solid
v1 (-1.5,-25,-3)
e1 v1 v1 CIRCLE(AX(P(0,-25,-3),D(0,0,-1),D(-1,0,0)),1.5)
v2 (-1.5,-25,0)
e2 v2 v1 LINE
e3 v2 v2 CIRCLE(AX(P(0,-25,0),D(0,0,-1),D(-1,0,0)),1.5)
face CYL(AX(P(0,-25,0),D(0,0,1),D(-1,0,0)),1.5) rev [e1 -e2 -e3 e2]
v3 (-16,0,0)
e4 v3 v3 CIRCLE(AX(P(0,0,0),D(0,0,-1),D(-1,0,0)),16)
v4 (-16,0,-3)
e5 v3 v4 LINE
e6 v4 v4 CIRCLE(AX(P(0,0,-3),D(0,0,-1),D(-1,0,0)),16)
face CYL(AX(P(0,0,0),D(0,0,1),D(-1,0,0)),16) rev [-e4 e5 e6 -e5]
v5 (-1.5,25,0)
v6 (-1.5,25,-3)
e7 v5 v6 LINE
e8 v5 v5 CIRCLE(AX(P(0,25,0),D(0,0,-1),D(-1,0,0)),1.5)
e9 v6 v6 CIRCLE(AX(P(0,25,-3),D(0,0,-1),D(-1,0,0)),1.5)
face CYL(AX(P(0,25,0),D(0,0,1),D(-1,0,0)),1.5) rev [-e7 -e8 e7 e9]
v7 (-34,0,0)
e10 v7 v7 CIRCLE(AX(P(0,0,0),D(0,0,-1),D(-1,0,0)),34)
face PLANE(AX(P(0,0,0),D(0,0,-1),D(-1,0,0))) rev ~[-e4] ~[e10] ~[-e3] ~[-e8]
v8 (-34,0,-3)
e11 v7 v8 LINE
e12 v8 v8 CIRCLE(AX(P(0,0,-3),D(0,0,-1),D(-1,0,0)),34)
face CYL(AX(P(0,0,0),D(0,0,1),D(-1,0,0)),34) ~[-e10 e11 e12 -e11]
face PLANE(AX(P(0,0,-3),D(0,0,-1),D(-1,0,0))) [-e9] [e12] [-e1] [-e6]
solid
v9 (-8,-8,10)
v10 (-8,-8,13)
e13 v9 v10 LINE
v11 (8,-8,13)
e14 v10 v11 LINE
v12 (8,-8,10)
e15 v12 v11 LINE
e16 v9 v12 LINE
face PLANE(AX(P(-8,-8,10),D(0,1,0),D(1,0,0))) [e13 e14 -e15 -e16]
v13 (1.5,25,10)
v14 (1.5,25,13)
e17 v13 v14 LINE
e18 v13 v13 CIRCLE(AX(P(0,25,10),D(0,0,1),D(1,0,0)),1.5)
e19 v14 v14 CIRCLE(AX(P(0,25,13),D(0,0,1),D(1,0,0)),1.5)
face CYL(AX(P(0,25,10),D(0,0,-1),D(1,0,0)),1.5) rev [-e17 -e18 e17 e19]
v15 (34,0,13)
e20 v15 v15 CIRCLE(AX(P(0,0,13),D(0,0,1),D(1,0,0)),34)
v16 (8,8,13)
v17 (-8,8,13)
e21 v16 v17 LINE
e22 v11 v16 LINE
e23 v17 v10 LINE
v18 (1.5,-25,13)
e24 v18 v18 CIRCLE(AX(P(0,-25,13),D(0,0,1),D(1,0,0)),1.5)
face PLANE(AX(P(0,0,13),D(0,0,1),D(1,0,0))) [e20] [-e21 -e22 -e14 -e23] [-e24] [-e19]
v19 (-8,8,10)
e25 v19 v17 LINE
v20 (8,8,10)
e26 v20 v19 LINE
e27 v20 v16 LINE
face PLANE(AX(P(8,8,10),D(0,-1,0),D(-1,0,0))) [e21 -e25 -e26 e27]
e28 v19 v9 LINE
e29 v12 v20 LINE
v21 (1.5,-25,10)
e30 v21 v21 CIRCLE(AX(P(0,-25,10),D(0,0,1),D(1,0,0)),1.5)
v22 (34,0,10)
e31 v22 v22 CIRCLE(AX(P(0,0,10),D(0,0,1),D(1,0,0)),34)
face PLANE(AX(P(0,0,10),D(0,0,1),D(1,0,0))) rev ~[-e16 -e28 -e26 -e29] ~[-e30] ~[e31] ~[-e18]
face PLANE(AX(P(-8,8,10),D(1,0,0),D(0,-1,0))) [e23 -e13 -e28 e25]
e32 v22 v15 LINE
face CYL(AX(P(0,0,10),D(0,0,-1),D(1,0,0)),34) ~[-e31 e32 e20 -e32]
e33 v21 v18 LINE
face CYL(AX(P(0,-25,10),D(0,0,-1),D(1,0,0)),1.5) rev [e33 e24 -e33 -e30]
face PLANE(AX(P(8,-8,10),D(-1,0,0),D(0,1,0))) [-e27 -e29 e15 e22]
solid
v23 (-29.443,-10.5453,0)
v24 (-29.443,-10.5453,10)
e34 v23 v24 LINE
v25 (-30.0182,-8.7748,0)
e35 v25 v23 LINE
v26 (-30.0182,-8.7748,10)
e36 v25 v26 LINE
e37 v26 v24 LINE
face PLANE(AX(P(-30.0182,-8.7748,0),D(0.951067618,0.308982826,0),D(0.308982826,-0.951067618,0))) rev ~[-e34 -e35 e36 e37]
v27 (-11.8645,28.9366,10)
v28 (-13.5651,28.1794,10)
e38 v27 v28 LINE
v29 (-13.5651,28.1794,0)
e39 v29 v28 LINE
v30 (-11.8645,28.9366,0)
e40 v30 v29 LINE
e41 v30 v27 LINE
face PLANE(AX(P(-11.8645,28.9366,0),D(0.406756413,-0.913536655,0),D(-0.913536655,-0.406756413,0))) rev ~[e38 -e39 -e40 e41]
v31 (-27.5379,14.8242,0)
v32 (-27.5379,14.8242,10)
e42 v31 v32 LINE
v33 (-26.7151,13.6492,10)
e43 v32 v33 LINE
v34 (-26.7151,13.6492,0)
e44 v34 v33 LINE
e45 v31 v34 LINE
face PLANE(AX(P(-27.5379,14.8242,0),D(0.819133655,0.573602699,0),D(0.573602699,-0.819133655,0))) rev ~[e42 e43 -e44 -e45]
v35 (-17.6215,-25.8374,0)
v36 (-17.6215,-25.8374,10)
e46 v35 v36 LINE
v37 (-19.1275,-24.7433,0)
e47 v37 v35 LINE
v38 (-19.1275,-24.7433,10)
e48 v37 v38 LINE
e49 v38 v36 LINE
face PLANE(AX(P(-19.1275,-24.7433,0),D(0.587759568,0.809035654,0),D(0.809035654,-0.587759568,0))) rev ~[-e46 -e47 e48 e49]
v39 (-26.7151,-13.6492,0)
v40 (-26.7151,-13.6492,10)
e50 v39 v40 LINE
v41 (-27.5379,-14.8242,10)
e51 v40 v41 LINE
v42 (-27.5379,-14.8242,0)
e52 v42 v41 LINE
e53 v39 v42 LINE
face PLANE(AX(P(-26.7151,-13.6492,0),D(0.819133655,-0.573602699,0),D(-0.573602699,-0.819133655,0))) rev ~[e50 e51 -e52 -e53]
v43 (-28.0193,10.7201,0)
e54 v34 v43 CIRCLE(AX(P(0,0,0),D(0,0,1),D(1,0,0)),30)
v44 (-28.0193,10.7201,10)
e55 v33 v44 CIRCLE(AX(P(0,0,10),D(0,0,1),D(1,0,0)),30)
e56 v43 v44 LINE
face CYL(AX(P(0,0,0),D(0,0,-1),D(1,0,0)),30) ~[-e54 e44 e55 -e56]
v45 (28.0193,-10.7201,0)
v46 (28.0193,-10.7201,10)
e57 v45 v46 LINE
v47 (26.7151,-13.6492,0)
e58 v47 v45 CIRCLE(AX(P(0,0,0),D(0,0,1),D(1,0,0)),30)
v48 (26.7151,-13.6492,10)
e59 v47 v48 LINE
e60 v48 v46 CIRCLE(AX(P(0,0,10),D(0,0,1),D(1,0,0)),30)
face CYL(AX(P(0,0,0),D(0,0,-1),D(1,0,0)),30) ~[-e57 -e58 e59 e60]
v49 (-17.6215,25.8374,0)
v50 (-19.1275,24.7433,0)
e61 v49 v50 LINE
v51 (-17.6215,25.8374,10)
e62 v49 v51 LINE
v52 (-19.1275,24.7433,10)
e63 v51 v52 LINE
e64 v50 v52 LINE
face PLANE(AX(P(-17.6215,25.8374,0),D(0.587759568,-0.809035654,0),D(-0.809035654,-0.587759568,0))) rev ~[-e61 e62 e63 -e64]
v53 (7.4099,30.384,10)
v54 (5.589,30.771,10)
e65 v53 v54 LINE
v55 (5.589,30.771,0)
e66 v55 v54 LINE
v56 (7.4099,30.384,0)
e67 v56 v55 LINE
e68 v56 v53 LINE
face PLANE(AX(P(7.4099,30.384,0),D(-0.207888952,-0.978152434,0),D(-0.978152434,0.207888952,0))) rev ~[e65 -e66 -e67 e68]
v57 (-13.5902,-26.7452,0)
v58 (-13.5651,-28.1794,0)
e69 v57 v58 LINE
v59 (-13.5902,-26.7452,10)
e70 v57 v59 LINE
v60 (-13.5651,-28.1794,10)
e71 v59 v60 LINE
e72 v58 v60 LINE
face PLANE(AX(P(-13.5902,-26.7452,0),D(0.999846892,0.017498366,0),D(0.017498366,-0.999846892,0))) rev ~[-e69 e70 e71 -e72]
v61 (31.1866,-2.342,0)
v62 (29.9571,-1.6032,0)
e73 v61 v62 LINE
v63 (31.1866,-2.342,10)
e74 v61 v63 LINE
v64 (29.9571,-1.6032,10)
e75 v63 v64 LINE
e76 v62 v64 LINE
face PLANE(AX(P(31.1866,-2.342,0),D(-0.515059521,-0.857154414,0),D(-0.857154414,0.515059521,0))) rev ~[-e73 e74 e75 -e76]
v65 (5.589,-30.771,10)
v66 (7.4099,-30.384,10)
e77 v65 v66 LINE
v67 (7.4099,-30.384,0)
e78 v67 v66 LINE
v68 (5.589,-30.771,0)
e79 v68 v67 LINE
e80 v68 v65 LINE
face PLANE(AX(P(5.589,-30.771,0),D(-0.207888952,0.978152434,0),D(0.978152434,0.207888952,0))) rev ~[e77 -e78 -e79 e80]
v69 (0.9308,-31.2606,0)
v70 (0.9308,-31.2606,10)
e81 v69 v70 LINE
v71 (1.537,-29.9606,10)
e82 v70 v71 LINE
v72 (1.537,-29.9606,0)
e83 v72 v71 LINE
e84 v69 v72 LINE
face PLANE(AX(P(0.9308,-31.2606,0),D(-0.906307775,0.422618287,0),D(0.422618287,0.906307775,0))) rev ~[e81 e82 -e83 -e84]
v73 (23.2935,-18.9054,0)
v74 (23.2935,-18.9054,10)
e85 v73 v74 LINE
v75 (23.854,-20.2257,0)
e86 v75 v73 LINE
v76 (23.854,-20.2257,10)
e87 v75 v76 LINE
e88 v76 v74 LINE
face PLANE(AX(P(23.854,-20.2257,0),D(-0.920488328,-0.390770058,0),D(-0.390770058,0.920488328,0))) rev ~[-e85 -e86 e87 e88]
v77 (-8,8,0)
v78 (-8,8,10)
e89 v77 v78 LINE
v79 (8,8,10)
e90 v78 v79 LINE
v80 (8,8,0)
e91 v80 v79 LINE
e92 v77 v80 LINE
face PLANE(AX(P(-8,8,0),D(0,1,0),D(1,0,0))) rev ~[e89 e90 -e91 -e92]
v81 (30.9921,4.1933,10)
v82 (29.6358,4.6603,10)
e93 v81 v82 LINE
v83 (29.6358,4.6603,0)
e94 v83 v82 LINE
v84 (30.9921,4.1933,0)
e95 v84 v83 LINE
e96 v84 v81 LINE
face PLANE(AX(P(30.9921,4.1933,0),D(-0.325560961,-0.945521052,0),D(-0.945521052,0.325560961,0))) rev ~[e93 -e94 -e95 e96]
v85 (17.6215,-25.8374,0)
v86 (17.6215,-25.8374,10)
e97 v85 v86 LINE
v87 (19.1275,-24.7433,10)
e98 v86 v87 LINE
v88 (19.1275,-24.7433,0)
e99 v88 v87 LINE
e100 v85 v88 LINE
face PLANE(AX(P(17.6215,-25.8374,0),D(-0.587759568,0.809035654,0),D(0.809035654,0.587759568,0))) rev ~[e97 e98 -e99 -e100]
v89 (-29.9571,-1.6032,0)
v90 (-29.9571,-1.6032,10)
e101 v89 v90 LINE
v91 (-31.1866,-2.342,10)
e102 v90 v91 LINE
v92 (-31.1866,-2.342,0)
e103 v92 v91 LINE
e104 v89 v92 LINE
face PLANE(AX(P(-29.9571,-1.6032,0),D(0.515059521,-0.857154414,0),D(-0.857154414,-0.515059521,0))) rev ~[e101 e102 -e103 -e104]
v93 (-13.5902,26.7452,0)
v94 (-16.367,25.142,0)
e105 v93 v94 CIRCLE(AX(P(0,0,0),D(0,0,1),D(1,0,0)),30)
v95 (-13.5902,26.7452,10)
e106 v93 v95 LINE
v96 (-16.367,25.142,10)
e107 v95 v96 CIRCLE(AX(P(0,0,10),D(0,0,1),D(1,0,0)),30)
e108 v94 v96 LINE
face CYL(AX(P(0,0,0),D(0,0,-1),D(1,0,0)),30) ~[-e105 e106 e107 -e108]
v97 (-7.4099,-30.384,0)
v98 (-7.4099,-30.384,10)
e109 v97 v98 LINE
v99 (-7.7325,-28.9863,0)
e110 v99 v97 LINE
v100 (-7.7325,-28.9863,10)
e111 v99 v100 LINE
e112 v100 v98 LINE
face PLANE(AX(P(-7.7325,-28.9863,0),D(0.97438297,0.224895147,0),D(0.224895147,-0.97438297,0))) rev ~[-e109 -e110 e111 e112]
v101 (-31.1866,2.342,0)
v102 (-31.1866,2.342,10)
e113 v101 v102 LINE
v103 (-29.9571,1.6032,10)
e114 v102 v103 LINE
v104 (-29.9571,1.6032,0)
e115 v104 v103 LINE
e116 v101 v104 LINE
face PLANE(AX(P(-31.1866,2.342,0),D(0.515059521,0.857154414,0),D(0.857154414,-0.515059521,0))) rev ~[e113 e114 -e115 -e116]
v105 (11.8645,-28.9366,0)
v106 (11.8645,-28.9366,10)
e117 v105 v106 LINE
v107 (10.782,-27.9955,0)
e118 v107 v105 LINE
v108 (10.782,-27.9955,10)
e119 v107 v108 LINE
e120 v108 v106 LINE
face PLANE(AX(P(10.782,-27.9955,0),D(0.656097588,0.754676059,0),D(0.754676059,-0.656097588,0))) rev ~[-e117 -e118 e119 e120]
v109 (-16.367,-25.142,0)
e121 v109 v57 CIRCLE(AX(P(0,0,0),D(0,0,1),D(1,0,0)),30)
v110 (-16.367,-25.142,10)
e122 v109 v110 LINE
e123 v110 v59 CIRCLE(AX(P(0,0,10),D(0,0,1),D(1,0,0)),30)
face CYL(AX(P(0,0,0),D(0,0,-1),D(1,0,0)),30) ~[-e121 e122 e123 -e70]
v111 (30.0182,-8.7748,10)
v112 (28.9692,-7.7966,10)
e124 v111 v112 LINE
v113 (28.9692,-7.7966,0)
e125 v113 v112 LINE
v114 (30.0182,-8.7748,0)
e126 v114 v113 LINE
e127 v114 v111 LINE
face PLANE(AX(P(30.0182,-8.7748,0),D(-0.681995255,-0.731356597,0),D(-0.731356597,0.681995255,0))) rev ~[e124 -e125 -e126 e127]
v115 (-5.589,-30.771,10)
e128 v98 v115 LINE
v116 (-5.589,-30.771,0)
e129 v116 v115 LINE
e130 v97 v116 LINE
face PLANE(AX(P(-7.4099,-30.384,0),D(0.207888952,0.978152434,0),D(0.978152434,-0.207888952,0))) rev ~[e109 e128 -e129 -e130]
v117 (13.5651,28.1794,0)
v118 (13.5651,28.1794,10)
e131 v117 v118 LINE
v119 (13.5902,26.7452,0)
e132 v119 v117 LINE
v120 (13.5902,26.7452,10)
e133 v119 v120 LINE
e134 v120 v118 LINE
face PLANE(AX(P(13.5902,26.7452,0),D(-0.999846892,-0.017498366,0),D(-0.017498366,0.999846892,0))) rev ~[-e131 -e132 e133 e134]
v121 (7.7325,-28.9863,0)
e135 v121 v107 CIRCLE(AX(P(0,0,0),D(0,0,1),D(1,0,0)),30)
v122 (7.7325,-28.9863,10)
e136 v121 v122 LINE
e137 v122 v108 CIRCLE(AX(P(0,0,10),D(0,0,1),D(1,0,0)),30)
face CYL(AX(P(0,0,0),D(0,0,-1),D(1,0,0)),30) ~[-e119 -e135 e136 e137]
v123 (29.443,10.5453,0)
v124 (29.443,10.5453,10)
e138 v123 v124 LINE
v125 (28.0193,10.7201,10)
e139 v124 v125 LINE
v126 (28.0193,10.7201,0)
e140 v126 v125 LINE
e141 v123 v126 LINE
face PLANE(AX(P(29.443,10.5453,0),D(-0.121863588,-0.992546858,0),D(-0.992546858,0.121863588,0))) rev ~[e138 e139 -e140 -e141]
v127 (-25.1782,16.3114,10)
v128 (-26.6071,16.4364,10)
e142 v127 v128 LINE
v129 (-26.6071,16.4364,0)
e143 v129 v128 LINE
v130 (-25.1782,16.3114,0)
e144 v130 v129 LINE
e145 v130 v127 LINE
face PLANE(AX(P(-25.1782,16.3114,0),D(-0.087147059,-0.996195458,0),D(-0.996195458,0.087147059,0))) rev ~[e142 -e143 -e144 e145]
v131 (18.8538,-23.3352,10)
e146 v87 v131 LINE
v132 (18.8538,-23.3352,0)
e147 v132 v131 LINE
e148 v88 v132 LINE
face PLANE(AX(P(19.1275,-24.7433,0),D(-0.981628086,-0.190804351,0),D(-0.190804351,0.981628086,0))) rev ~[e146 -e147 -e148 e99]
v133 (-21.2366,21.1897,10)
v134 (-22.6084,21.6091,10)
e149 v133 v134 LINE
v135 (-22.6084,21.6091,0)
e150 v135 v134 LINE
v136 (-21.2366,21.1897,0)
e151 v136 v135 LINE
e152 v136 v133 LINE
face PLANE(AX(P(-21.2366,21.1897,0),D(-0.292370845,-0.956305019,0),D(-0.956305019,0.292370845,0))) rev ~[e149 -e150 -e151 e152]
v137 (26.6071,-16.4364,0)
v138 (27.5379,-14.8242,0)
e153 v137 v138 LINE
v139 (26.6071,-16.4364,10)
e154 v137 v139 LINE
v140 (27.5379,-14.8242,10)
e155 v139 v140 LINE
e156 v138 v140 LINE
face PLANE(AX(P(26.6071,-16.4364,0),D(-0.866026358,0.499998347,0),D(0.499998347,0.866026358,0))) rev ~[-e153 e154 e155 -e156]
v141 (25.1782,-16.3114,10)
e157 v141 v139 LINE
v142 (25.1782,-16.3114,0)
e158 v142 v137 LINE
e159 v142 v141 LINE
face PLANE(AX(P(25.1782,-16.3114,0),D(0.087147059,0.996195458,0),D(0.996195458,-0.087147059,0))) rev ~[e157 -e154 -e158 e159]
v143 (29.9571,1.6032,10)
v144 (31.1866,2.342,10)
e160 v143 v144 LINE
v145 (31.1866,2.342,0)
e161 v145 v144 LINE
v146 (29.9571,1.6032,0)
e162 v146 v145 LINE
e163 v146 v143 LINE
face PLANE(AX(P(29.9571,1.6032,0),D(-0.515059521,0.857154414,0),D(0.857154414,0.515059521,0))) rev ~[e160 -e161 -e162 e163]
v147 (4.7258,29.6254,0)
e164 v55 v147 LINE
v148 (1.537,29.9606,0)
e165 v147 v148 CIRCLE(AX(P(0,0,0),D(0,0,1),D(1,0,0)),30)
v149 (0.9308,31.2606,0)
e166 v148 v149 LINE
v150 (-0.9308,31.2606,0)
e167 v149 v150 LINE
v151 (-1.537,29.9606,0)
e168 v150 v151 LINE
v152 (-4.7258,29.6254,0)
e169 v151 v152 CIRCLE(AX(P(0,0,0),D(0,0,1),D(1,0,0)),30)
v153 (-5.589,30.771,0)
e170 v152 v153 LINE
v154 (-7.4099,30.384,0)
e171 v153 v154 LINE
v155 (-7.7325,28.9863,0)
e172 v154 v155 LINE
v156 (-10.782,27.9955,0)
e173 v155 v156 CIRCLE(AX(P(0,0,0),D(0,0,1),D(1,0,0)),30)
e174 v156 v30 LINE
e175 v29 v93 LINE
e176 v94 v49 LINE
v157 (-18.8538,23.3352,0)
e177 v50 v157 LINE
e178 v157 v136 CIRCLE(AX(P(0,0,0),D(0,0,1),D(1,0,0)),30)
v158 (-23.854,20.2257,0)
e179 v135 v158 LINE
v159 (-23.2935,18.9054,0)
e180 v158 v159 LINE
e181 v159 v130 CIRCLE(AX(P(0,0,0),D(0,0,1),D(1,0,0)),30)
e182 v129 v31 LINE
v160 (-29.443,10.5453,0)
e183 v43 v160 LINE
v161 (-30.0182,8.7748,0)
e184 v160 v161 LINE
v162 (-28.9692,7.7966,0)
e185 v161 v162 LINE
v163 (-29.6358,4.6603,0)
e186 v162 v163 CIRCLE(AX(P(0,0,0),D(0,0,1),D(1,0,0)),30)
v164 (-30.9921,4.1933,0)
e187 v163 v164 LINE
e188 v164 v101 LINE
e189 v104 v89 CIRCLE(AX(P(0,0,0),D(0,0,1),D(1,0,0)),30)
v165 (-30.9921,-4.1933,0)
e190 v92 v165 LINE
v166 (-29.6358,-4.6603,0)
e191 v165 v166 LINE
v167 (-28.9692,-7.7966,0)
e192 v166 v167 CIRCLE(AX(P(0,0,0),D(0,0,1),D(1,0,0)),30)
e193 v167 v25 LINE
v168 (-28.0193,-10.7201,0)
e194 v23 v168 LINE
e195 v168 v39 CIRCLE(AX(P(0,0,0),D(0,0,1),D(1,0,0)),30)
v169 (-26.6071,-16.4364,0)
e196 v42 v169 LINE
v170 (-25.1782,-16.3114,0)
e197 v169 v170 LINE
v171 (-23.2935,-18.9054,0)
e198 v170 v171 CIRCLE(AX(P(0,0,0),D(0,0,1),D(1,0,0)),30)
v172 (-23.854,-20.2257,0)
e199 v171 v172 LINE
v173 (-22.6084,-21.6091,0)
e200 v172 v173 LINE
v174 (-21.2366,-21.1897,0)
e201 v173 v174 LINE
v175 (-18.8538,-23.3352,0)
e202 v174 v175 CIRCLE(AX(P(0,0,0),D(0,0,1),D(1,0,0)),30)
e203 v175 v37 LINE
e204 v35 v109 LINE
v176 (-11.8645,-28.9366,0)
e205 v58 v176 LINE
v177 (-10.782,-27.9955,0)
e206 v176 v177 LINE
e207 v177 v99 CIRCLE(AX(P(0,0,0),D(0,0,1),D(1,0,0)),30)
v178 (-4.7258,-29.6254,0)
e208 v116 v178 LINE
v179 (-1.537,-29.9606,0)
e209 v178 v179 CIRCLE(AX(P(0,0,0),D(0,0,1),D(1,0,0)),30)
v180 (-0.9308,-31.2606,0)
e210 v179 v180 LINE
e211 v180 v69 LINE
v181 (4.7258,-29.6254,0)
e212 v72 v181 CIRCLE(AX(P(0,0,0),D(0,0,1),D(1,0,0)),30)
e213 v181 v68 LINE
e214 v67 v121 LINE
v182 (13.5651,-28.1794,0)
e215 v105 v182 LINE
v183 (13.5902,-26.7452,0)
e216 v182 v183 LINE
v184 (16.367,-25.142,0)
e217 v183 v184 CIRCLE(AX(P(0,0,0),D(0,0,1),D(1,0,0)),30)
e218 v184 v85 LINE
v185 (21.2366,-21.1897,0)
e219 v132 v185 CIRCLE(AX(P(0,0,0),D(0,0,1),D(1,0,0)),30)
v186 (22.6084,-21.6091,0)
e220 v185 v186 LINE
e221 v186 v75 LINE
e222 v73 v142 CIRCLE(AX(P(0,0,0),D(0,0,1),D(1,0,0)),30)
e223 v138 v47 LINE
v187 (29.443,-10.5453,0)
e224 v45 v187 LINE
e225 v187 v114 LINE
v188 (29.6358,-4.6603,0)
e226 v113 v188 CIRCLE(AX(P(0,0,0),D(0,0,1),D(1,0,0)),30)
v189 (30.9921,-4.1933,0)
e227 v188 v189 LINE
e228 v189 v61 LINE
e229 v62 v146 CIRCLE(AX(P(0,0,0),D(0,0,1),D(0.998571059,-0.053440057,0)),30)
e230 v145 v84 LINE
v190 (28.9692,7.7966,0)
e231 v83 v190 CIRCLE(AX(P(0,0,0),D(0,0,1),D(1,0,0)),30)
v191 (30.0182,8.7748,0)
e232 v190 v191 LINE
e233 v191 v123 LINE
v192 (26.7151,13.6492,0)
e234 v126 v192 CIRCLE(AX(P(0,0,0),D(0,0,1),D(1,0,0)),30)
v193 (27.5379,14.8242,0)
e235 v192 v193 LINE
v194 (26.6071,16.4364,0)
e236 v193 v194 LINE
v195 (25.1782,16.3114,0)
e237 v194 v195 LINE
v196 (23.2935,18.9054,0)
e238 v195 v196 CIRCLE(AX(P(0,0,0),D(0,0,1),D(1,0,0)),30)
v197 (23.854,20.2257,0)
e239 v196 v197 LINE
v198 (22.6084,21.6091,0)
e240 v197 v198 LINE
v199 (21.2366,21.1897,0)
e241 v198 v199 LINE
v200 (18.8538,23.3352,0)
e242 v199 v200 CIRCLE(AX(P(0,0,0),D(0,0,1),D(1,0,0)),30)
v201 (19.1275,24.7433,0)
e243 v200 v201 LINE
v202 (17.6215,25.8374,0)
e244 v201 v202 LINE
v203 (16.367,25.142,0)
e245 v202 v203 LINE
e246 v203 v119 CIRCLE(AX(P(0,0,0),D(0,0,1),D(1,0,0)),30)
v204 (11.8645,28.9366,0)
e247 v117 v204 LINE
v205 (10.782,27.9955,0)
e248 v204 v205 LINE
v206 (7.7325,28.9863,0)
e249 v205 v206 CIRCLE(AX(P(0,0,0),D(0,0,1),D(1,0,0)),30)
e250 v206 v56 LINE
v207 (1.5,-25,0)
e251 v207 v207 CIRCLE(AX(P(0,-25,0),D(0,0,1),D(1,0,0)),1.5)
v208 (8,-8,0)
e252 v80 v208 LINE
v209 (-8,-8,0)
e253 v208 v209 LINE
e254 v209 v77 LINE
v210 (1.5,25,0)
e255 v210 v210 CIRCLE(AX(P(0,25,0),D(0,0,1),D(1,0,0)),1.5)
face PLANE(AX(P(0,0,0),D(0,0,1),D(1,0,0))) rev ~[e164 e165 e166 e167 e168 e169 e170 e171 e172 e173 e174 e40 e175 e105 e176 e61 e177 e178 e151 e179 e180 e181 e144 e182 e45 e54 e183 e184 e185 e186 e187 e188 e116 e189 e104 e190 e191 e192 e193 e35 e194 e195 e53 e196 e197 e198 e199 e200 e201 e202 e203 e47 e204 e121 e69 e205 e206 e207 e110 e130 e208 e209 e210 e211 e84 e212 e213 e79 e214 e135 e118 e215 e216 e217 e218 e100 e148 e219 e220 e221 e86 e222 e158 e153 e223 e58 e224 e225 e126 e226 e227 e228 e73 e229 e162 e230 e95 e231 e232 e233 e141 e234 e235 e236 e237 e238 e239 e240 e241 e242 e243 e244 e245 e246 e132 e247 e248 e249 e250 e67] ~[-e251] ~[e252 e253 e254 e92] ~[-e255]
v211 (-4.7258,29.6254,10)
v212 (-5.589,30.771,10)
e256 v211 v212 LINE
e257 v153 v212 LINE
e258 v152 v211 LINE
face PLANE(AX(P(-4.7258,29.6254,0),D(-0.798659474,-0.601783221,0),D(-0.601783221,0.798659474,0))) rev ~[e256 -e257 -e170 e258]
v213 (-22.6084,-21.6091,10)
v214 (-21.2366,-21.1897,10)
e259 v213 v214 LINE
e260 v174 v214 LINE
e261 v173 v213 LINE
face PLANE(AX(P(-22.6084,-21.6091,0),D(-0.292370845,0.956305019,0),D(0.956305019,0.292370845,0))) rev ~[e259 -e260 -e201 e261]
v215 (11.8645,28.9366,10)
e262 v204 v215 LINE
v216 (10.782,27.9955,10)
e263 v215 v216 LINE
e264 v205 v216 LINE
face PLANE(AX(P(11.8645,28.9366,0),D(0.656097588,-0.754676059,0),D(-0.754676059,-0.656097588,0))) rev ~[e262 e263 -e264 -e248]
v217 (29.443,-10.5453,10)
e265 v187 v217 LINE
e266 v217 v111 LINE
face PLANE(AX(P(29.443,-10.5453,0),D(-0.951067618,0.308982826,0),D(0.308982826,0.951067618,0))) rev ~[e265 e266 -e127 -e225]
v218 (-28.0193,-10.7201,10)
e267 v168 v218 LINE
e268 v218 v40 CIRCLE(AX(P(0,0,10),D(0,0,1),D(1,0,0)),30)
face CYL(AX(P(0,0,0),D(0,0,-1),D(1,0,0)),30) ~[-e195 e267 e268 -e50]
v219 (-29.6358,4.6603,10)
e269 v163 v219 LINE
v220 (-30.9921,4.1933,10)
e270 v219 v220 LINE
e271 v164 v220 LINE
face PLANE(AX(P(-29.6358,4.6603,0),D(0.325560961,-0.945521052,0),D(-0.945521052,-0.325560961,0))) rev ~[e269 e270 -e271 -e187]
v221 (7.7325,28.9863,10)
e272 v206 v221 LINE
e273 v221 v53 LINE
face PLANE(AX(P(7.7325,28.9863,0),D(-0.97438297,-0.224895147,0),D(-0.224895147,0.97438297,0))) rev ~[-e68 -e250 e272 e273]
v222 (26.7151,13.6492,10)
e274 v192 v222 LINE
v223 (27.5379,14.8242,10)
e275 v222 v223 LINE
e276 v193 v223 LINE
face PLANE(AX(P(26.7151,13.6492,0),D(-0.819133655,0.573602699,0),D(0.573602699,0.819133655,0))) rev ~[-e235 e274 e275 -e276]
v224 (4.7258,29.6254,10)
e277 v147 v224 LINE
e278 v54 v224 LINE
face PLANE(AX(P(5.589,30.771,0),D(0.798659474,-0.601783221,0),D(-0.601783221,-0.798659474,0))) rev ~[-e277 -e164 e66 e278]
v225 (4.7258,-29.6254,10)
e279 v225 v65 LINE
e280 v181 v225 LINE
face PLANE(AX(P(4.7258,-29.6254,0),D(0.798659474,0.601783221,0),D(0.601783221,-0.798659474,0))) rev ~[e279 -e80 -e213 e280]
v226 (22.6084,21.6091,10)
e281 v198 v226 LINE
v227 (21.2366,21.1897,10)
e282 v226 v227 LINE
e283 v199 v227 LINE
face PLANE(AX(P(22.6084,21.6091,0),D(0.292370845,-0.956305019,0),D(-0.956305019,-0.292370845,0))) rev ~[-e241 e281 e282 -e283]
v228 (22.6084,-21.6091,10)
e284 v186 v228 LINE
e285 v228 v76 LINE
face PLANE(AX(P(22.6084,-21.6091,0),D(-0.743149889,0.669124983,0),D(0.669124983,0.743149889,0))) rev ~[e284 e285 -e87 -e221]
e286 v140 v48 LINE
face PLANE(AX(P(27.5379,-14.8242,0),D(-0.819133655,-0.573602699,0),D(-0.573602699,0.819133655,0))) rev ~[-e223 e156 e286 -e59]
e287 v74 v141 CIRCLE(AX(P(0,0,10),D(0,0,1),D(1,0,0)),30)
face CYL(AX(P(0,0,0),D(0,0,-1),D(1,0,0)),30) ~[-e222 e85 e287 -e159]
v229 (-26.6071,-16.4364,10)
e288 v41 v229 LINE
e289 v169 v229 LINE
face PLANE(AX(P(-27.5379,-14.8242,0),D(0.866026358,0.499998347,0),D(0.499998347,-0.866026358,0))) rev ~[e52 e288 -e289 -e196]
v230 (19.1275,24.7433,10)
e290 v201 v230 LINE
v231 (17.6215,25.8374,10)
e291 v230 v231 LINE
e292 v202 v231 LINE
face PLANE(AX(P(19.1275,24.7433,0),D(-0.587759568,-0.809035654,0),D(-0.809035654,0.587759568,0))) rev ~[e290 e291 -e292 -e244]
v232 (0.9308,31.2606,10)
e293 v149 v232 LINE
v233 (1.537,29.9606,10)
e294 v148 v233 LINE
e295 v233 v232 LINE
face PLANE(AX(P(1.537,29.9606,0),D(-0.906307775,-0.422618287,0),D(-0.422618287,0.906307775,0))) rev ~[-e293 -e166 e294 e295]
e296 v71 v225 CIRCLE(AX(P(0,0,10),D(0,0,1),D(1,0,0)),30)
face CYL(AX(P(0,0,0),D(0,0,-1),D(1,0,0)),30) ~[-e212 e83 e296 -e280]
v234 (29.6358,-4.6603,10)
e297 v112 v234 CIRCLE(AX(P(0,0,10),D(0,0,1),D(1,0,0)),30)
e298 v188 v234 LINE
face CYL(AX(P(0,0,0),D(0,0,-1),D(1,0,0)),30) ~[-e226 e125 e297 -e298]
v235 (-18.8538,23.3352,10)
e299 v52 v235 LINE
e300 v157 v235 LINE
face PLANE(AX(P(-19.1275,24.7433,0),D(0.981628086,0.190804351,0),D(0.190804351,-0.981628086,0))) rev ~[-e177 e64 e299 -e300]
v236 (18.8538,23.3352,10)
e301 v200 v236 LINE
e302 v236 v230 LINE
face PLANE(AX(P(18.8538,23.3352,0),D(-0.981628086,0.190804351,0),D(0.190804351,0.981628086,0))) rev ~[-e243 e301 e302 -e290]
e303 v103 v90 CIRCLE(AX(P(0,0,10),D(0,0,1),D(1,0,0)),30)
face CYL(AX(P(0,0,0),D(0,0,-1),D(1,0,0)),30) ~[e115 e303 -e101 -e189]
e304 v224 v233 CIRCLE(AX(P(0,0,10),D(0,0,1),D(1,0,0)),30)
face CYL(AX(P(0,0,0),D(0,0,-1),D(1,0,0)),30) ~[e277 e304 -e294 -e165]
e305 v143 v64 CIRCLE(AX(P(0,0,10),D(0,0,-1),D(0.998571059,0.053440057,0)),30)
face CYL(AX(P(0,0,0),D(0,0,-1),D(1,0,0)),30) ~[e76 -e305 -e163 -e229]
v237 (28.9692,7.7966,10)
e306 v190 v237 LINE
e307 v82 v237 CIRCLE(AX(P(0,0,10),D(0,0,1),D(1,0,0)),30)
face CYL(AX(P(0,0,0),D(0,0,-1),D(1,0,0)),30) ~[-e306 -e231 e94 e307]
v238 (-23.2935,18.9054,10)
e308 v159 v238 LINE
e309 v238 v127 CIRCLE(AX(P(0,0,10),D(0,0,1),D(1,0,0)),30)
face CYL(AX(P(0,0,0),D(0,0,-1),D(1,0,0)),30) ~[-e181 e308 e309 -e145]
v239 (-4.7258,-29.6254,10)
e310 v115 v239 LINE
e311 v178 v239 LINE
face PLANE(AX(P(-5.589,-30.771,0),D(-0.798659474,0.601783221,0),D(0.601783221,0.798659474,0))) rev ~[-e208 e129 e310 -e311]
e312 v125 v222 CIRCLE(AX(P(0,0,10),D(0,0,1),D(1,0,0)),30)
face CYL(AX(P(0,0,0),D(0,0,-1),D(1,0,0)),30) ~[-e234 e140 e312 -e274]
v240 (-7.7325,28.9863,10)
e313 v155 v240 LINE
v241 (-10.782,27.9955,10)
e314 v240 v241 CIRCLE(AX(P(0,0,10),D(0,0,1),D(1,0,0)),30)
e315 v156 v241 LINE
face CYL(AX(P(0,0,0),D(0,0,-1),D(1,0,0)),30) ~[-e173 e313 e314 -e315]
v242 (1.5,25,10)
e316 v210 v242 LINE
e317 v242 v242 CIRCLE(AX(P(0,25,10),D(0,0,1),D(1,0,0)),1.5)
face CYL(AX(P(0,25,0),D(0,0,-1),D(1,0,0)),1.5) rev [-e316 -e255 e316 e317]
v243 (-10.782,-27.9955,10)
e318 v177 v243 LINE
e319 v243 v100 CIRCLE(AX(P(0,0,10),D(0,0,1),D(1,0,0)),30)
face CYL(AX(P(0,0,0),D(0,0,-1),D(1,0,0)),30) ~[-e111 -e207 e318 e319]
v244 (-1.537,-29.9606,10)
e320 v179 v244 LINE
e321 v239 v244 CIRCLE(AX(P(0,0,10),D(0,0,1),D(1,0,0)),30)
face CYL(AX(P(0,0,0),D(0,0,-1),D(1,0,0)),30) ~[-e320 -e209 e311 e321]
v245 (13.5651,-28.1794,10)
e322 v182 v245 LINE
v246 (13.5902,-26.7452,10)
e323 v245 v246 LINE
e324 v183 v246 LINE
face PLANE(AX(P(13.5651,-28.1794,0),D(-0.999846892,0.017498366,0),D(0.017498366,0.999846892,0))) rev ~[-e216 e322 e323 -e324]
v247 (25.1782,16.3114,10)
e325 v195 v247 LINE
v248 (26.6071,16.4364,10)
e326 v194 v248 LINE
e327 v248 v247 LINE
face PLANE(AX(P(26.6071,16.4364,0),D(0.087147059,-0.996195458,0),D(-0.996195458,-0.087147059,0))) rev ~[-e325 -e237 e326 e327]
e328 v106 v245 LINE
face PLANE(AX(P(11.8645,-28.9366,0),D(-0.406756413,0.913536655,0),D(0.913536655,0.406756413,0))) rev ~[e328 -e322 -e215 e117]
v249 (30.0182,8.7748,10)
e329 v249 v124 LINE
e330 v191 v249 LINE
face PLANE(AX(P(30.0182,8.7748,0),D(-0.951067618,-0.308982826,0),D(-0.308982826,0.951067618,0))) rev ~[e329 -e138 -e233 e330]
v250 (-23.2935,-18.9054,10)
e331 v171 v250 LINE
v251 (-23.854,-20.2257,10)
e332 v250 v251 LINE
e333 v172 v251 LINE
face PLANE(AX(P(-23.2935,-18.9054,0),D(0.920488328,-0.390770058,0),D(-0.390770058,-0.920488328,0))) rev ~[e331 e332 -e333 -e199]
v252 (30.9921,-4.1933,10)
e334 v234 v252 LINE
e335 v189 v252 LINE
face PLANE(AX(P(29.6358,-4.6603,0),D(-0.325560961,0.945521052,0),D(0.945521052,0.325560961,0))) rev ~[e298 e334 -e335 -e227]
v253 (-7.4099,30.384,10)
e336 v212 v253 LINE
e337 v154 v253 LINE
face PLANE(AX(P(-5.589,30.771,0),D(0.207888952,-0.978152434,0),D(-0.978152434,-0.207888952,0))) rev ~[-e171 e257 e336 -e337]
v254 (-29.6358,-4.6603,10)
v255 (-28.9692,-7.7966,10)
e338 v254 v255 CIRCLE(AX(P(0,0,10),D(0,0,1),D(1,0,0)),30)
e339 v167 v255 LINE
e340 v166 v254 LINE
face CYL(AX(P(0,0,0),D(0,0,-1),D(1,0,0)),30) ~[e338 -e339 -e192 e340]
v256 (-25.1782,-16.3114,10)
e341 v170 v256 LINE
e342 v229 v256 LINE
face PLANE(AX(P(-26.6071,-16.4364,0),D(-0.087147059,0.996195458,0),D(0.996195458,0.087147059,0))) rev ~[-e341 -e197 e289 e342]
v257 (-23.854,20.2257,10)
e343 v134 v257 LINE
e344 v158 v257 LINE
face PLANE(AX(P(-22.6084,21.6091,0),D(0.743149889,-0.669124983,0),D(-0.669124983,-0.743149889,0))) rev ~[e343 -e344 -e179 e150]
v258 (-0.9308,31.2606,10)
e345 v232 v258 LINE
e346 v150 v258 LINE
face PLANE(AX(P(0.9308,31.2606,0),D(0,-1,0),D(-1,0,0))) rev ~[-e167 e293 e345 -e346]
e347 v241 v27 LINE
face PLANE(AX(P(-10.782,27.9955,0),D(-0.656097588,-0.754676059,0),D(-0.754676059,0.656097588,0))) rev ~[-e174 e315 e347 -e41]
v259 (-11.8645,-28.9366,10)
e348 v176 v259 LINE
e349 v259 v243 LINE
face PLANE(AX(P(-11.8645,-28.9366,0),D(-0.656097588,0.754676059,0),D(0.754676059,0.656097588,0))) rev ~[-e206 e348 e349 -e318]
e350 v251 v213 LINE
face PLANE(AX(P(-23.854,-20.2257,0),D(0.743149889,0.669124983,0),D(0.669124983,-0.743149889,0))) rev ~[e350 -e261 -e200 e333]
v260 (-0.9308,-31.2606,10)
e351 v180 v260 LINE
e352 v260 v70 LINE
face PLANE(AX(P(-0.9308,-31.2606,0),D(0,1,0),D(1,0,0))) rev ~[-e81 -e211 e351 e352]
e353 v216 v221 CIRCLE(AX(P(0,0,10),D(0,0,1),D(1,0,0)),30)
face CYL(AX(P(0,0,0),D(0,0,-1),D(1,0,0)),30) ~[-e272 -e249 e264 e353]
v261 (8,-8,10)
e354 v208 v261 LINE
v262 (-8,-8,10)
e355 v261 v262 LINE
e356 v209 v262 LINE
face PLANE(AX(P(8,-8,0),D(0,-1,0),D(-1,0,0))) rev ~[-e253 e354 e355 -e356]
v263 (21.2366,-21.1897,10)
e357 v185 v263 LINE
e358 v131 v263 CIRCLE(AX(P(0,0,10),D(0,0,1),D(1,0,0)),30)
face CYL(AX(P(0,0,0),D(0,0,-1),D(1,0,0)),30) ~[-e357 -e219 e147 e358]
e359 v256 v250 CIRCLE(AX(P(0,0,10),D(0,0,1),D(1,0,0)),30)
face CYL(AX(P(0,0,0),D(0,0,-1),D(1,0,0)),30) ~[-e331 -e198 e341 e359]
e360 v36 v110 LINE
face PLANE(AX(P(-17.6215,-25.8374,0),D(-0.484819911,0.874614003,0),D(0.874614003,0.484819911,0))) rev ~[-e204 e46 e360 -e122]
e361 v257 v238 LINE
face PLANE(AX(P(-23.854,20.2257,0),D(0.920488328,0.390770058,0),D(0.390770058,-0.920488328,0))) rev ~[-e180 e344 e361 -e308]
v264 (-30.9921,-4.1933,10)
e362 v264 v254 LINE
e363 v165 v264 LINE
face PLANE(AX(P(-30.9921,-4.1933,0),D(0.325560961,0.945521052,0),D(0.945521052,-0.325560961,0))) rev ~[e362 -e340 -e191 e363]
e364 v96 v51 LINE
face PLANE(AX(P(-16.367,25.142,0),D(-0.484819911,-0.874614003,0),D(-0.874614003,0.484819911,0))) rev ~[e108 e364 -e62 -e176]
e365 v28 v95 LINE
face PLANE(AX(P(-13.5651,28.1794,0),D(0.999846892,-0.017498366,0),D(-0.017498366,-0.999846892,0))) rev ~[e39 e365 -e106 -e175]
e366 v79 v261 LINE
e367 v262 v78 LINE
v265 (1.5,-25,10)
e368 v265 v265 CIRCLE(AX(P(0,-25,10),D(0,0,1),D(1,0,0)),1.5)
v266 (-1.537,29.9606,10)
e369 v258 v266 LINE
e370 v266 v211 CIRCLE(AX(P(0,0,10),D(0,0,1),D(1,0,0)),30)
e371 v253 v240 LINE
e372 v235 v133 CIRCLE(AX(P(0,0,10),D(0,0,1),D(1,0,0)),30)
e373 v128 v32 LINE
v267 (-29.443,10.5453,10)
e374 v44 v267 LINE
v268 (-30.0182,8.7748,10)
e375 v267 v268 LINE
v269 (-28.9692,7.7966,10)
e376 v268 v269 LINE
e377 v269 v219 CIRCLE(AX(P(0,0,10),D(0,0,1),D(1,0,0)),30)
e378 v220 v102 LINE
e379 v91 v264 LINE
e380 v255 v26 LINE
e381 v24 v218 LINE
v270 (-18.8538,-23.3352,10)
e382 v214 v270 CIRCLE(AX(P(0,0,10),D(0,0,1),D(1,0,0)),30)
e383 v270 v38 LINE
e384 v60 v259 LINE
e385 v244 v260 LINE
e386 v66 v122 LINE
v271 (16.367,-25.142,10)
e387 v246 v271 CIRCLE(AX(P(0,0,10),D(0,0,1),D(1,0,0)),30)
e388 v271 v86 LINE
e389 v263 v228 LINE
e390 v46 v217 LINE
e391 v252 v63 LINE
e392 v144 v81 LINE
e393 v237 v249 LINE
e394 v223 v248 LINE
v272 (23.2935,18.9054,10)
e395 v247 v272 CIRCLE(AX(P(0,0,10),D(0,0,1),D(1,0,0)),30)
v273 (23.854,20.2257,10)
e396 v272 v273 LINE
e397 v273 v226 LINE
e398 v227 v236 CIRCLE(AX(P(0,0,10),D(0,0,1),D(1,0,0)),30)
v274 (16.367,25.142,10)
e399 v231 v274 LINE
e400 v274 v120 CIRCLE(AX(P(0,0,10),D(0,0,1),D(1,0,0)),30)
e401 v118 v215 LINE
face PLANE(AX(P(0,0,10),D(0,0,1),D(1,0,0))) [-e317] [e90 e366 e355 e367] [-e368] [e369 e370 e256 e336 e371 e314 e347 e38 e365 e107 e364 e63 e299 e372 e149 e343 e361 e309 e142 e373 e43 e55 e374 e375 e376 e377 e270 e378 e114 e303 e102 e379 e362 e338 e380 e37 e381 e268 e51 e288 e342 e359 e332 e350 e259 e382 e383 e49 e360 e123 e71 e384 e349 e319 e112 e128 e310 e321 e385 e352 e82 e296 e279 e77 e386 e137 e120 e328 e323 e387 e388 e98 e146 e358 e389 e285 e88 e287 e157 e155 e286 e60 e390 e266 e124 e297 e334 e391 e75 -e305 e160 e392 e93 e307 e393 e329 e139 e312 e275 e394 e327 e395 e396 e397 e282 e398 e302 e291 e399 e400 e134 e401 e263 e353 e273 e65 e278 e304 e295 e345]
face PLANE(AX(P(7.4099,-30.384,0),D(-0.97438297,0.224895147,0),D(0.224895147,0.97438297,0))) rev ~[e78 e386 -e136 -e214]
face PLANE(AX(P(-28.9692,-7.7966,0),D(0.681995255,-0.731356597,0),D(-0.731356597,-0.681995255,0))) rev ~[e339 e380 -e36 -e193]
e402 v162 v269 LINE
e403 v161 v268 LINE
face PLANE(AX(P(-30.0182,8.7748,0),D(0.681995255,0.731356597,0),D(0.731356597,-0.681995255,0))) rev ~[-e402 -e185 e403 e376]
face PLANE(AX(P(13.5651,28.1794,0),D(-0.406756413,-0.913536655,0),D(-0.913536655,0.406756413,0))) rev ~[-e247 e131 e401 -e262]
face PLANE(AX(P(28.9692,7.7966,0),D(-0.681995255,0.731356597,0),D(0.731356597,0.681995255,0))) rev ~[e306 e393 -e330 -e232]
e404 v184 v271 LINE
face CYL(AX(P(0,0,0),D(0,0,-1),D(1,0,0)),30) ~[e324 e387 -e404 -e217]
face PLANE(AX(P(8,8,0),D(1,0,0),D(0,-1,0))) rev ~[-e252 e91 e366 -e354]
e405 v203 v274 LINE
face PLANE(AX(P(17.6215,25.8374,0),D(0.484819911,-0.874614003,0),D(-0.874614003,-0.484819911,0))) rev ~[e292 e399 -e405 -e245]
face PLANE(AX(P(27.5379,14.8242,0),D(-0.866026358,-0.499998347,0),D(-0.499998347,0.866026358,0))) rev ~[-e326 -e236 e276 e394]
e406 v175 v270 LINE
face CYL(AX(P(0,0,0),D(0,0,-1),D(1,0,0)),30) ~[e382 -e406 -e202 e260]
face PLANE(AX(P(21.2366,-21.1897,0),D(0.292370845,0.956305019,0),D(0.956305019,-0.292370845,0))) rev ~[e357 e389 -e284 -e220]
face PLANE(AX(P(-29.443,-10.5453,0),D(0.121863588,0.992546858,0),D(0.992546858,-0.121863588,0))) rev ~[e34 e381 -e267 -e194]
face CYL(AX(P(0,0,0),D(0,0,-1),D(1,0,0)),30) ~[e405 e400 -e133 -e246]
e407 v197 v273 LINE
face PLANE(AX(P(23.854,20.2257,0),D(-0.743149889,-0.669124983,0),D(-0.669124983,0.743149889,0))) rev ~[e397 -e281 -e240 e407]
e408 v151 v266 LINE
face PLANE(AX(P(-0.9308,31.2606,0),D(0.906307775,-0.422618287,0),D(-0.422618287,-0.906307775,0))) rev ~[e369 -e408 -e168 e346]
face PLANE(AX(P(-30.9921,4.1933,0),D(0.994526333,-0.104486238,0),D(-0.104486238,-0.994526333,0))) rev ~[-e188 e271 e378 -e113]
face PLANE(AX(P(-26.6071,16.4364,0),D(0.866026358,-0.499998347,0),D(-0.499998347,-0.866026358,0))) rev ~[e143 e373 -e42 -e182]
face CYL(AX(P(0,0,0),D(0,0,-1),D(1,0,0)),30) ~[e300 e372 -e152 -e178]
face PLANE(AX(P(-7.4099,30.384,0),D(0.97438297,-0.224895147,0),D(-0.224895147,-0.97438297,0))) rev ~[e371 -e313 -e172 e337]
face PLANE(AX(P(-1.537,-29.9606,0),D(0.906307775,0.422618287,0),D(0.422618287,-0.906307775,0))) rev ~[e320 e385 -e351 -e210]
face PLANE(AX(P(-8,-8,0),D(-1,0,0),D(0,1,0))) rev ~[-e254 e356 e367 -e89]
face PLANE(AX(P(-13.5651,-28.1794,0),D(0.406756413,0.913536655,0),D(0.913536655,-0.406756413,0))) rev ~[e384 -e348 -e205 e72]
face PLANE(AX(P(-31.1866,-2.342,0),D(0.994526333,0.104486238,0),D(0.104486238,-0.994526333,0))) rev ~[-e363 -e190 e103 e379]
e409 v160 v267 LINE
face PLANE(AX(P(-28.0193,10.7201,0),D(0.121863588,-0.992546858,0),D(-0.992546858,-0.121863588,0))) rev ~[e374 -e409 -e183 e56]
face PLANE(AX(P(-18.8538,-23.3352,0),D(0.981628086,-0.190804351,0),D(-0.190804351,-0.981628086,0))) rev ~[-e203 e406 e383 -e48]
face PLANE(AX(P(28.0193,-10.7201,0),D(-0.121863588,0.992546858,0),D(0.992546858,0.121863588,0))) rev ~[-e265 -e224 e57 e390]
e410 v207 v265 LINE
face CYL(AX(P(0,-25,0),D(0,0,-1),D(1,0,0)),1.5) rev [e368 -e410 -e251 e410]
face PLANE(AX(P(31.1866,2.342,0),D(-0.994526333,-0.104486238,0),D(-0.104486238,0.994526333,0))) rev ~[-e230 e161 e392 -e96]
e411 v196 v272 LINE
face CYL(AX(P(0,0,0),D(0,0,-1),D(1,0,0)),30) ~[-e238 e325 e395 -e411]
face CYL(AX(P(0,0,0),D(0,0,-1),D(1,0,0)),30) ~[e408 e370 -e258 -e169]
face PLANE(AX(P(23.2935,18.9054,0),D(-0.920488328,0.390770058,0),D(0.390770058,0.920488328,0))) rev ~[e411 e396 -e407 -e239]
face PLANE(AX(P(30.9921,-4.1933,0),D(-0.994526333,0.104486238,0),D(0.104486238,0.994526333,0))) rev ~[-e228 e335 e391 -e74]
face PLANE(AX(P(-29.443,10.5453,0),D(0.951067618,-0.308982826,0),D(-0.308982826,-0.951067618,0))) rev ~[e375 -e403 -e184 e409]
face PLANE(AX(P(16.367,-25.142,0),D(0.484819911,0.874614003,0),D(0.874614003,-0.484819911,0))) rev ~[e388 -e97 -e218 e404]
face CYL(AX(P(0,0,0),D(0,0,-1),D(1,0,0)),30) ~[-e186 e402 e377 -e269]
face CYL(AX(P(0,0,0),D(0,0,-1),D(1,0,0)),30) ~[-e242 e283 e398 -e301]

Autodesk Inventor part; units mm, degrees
ref_plane "YZ Plane" through (0, 0, 0) normal (1, 0, 0) x (0, 1, 0)
ref_plane "XZ Plane" through (0, 0, 0) normal (0, 1, 0) x (-1, 0, 0)
ref_plane "XY Plane" through (0, 0, 0) normal (0, 0, 1) x (1, 0, 0)
sketch "Boceto1" plane through (0, 0, 0) normal (0, 0, 1) x (1, 0, 0)
  line L0 (8, -8) -> (-8, -8) projected
  line L1 (-8, -8) -> (-8, 8) projected
  line L2 (-8, 8) -> (8, 8) projected
  line L3 (8, 8) -> (8, -8) projected
  circle A0 centre (0, 0) radius 15 construction
  circle A1 centre (0, 0) radius 30
  circle A2 centre (0, 0) radius 25 construction
  circle A3 centre (0, 25) radius 1.5
  circle A4 centre (0, -25) radius 1.5
  circle A5 centre (0, 0) radius 31.2745 construction
  line L4 (-1.537, 29.9606) -> (1.537, 29.9606)
  line L5 (1.537, 29.9606) -> (0.9308, 31.2606)
  line L6 (0.9308, 31.2606) -> (-0.9308, 31.2606)
  line L7 (-0.9308, 31.2606) -> (-1.537, 29.9606)
  line L8 (0, 29.9606) -> (0, 0) construction
  line L9 (0, 0) -> (2.537, 29.8925) construction
  line L10 (0, 0) -> (-2.537, 29.8925) construction
  arc A6 (-2.537, 29.8925) -> (2.537, 29.8925) centre (0, 59.7851) ccw construction
  line L11 (1.537, 29.9606) -> (1.537, 32.0659) construction
  line L12 (-7.4099, 30.384) -> (-7.7325, 28.9863)
  line L13 (-5.589, 30.771) -> (-7.4099, 30.384)
  line L14 (-4.7258, 29.6254) -> (-5.589, 30.771)
  line L15 (-13.5651, 28.1794) -> (-13.5902, 26.7452)
  line L16 (-11.8645, 28.9366) -> (-13.5651, 28.1794)
  line L17 (-10.782, 27.9955) -> (-11.8645, 28.9366)
  line L18 (-19.1275, 24.7433) -> (-18.8538, 23.3352)
  line L19 (-17.6215, 25.8374) -> (-19.1275, 24.7433)
  line L20 (-16.367, 25.142) -> (-17.6215, 25.8374)
  line L21 (-23.854, 20.2257) -> (-23.2935, 18.9054)
  line L22 (-22.6084, 21.6091) -> (-23.854, 20.2257)
  line L23 (-21.2366, 21.1897) -> (-22.6084, 21.6091)
  line L24 (-27.5379, 14.8242) -> (-26.7151, 13.6492)
  line L25 (-26.6071, 16.4364) -> (-27.5379, 14.8242)
  line L26 (-25.1782, 16.3114) -> (-26.6071, 16.4364)
  line L27 (-30.0182, 8.7748) -> (-28.9692, 7.7966)
  line L28 (-29.443, 10.5453) -> (-30.0182, 8.7748)
  line L29 (-28.0193, 10.7201) -> (-29.443, 10.5453)
  line L30 (-31.1866, 2.342) -> (-29.9571, 1.6032)
  line L31 (-30.9921, 4.1933) -> (-31.1866, 2.342)
  line L32 (-29.6358, 4.6603) -> (-30.9921, 4.1933)
  line L33 (-30.9921, -4.1933) -> (-29.6358, -4.6603)
  line L34 (-31.1866, -2.342) -> (-30.9921, -4.1933)
  line L35 (-29.9571, -1.6032) -> (-31.1866, -2.342)
  line L36 (-29.443, -10.5453) -> (-28.0193, -10.7201)
  line L37 (-30.0182, -8.7748) -> (-29.443, -10.5453)
  line L38 (-28.9692, -7.7966) -> (-30.0182, -8.7748)
  line L39 (-26.6071, -16.4364) -> (-25.1782, -16.3114)
  line L40 (-27.5379, -14.8242) -> (-26.6071, -16.4364)
  line L41 (-26.7151, -13.6492) -> (-27.5379, -14.8242)
  line L42 (-22.6084, -21.6091) -> (-21.2366, -21.1897)
  line L43 (-23.854, -20.2257) -> (-22.6084, -21.6091)
  line L44 (-23.2935, -18.9054) -> (-23.854, -20.2257)
  line L45 (-17.6215, -25.8374) -> (-16.367, -25.142)
  line L46 (-19.1275, -24.7433) -> (-17.6215, -25.8374)
  line L47 (-18.8538, -23.3352) -> (-19.1275, -24.7433)
  line L48 (-11.8645, -28.9366) -> (-10.782, -27.9955)
  line L49 (-13.5651, -28.1794) -> (-11.8645, -28.9366)
  line L50 (-13.5902, -26.7452) -> (-13.5651, -28.1794)
  line L51 (-5.589, -30.771) -> (-4.7258, -29.6254)
  line L52 (-7.4099, -30.384) -> (-5.589, -30.771)
  line L53 (-7.7325, -28.9863) -> (-7.4099, -30.384)
  line L54 (0.9308, -31.2606) -> (1.537, -29.9606)
  line L55 (-0.9308, -31.2606) -> (0.9308, -31.2606)
  line L56 (-1.537, -29.9606) -> (-0.9308, -31.2606)
  line L57 (7.4099, -30.384) -> (7.7325, -28.9863)
  line L58 (5.589, -30.771) -> (7.4099, -30.384)
  line L59 (4.7258, -29.6254) -> (5.589, -30.771)
  line L60 (13.5651, -28.1794) -> (13.5902, -26.7452)
  line L61 (11.8645, -28.9366) -> (13.5651, -28.1794)
  line L62 (10.782, -27.9955) -> (11.8645, -28.9366)
  line L63 (19.1275, -24.7433) -> (18.8538, -23.3352)
  line L64 (17.6215, -25.8374) -> (19.1275, -24.7433)
  line L65 (16.367, -25.142) -> (17.6215, -25.8374)
  line L66 (23.854, -20.2257) -> (23.2935, -18.9054)
  line L67 (22.6084, -21.6091) -> (23.854, -20.2257)
  line L68 (21.2366, -21.1897) -> (22.6084, -21.6091)
  line L69 (27.5379, -14.8242) -> (26.7151, -13.6492)
  line L70 (26.6071, -16.4364) -> (27.5379, -14.8242)
  line L71 (25.1782, -16.3114) -> (26.6071, -16.4364)
  line L72 (30.0182, -8.7748) -> (28.9692, -7.7966)
  line L73 (29.443, -10.5453) -> (30.0182, -8.7748)
  line L74 (28.0193, -10.7201) -> (29.443, -10.5453)
  line L75 (31.1866, -2.342) -> (29.9571, -1.6032)
  line L76 (30.9921, -4.1933) -> (31.1866, -2.342)
  line L77 (29.6358, -4.6603) -> (30.9921, -4.1933)
  line L78 (30.9921, 4.1933) -> (29.6358, 4.6603)
  line L79 (31.1866, 2.342) -> (30.9921, 4.1933)
  line L80 (29.9571, 1.6032) -> (31.1866, 2.342)
  line L81 (29.443, 10.5453) -> (28.0193, 10.7201)
  line L82 (30.0182, 8.7748) -> (29.443, 10.5453)
  line L83 (28.9692, 7.7966) -> (30.0182, 8.7748)
  line L84 (26.6071, 16.4364) -> (25.1782, 16.3114)
  line L85 (27.5379, 14.8242) -> (26.6071, 16.4364)
  line L86 (26.7151, 13.6492) -> (27.5379, 14.8242)
  line L87 (22.6084, 21.6091) -> (21.2366, 21.1897)
  line L88 (23.854, 20.2257) -> (22.6084, 21.6091)
  line L89 (23.2935, 18.9054) -> (23.854, 20.2257)
  line L90 (17.6215, 25.8374) -> (16.367, 25.142)
  line L91 (19.1275, 24.7433) -> (17.6215, 25.8374)
  line L92 (18.8538, 23.3352) -> (19.1275, 24.7433)
  line L93 (11.8645, 28.9366) -> (10.782, 27.9955)
  line L94 (13.5651, 28.1794) -> (11.8645, 28.9366)
  line L95 (13.5902, 26.7452) -> (13.5651, 28.1794)
  line L96 (5.589, 30.771) -> (4.7258, 29.6254)
  line L97 (7.4099, 30.384) -> (5.589, 30.771)
  line L98 (7.7325, 28.9863) -> (7.4099, 30.384)
  point P0 (0, 31.2606)
  point P1 (-6.4994, 30.5775)
  point P2 (-12.7148, 28.558)
  point P3 (-18.3745, 25.2904)
  point P4 (-23.2312, 20.9174)
  point P5 (-27.0725, 15.6303)
  point P6 (-29.7306, 9.6601)
  point P7 (-31.0894, 3.2676)
  point P8 (-31.0894, -3.2676)
  point P9 (-29.7306, -9.6601)
  point P10 (-27.0725, -15.6303)
  point P11 (-23.2312, -20.9174)
  point P12 (-18.3745, -25.2904)
  point P13 (-12.7148, -28.558)
  point P14 (-6.4994, -30.5775)
  point P15 (0, -31.2606)
  point P16 (6.4994, -30.5775)
  point P17 (12.7148, -28.558)
  point P18 (18.3745, -25.2904)
  point P19 (23.2312, -20.9174)
  point P20 (27.0725, -15.6303)
  point P21 (29.7306, -9.6601)
  point P22 (31.0894, -3.2676)
  point P23 (31.0894, 3.2676)
  point P24 (29.7306, 9.6601)
  point P25 (27.0725, 15.6303)
  point P26 (23.2312, 20.9174)
  point P27 (18.3745, 25.2904)
  point P28 (12.7148, 28.558)
  point P29 (6.4994, 30.5775)
  dimension "d4" = 5
  dimension "d24" = 62.5489
  dimension "diametro" = 60
  dimension "d3" = 3
  dimension "d7" = 360
  dimension "d25" = 1.3
  dimension "d26" = 5.0739
  dimension "diente" = 5.08
  dimension "d28" = 25
  dimension "d29" = 50
  dimension "d30" = 3.0739
  dimension "d33" = 360
extrude "Extrusión1" add sketch "Boceto1" along normal blind 10
sketch "Boceto2" plane through (0, 0, 0) normal (0, 0, -1) x (-1, 0, 0)
  circle A0 centre (0, 0) radius 34
  circle A1 centre (0, 0) radius 16
  circle A2 centre (0, 25) radius 1.5 projected
  circle A3 centre (0, -25) radius 1.5 projected
  circle A4 centre (0, -25) radius 1.5 construction
  circle A5 centre (0, -25) radius 9 construction
  dimension "d9" = 32
  dimension "d21" = 68
extrude "Extrusión2" add sketch "Boceto2" along normal blind 3 separate body
sketch "Boceto3" plane through (0, 0, 10) normal (0, 0, 1) x (1, 0, 0)
  circle A0 centre (0, 0) radius 34 projected
  circle A1 centre (0, 25) radius 1.5 projected
  circle A2 centre (0, -25) radius 1.5 projected
  line L0 (8, 8) -> (-8, 8) projected
  line L1 (8, -8) -> (8, 8) projected
  line L2 (-8, -8) -> (8, -8) projected
  line L3 (-8, 8) -> (-8, -8) projected
extrude "Extrusión3" add sketch "Boceto3" along normal blind 3 separate body
equation "\"diametro\" = 2 * dientes"
equation "\"dientes\" = 30"
properties part number "Poleas de transmision (ZR timing belts)"
